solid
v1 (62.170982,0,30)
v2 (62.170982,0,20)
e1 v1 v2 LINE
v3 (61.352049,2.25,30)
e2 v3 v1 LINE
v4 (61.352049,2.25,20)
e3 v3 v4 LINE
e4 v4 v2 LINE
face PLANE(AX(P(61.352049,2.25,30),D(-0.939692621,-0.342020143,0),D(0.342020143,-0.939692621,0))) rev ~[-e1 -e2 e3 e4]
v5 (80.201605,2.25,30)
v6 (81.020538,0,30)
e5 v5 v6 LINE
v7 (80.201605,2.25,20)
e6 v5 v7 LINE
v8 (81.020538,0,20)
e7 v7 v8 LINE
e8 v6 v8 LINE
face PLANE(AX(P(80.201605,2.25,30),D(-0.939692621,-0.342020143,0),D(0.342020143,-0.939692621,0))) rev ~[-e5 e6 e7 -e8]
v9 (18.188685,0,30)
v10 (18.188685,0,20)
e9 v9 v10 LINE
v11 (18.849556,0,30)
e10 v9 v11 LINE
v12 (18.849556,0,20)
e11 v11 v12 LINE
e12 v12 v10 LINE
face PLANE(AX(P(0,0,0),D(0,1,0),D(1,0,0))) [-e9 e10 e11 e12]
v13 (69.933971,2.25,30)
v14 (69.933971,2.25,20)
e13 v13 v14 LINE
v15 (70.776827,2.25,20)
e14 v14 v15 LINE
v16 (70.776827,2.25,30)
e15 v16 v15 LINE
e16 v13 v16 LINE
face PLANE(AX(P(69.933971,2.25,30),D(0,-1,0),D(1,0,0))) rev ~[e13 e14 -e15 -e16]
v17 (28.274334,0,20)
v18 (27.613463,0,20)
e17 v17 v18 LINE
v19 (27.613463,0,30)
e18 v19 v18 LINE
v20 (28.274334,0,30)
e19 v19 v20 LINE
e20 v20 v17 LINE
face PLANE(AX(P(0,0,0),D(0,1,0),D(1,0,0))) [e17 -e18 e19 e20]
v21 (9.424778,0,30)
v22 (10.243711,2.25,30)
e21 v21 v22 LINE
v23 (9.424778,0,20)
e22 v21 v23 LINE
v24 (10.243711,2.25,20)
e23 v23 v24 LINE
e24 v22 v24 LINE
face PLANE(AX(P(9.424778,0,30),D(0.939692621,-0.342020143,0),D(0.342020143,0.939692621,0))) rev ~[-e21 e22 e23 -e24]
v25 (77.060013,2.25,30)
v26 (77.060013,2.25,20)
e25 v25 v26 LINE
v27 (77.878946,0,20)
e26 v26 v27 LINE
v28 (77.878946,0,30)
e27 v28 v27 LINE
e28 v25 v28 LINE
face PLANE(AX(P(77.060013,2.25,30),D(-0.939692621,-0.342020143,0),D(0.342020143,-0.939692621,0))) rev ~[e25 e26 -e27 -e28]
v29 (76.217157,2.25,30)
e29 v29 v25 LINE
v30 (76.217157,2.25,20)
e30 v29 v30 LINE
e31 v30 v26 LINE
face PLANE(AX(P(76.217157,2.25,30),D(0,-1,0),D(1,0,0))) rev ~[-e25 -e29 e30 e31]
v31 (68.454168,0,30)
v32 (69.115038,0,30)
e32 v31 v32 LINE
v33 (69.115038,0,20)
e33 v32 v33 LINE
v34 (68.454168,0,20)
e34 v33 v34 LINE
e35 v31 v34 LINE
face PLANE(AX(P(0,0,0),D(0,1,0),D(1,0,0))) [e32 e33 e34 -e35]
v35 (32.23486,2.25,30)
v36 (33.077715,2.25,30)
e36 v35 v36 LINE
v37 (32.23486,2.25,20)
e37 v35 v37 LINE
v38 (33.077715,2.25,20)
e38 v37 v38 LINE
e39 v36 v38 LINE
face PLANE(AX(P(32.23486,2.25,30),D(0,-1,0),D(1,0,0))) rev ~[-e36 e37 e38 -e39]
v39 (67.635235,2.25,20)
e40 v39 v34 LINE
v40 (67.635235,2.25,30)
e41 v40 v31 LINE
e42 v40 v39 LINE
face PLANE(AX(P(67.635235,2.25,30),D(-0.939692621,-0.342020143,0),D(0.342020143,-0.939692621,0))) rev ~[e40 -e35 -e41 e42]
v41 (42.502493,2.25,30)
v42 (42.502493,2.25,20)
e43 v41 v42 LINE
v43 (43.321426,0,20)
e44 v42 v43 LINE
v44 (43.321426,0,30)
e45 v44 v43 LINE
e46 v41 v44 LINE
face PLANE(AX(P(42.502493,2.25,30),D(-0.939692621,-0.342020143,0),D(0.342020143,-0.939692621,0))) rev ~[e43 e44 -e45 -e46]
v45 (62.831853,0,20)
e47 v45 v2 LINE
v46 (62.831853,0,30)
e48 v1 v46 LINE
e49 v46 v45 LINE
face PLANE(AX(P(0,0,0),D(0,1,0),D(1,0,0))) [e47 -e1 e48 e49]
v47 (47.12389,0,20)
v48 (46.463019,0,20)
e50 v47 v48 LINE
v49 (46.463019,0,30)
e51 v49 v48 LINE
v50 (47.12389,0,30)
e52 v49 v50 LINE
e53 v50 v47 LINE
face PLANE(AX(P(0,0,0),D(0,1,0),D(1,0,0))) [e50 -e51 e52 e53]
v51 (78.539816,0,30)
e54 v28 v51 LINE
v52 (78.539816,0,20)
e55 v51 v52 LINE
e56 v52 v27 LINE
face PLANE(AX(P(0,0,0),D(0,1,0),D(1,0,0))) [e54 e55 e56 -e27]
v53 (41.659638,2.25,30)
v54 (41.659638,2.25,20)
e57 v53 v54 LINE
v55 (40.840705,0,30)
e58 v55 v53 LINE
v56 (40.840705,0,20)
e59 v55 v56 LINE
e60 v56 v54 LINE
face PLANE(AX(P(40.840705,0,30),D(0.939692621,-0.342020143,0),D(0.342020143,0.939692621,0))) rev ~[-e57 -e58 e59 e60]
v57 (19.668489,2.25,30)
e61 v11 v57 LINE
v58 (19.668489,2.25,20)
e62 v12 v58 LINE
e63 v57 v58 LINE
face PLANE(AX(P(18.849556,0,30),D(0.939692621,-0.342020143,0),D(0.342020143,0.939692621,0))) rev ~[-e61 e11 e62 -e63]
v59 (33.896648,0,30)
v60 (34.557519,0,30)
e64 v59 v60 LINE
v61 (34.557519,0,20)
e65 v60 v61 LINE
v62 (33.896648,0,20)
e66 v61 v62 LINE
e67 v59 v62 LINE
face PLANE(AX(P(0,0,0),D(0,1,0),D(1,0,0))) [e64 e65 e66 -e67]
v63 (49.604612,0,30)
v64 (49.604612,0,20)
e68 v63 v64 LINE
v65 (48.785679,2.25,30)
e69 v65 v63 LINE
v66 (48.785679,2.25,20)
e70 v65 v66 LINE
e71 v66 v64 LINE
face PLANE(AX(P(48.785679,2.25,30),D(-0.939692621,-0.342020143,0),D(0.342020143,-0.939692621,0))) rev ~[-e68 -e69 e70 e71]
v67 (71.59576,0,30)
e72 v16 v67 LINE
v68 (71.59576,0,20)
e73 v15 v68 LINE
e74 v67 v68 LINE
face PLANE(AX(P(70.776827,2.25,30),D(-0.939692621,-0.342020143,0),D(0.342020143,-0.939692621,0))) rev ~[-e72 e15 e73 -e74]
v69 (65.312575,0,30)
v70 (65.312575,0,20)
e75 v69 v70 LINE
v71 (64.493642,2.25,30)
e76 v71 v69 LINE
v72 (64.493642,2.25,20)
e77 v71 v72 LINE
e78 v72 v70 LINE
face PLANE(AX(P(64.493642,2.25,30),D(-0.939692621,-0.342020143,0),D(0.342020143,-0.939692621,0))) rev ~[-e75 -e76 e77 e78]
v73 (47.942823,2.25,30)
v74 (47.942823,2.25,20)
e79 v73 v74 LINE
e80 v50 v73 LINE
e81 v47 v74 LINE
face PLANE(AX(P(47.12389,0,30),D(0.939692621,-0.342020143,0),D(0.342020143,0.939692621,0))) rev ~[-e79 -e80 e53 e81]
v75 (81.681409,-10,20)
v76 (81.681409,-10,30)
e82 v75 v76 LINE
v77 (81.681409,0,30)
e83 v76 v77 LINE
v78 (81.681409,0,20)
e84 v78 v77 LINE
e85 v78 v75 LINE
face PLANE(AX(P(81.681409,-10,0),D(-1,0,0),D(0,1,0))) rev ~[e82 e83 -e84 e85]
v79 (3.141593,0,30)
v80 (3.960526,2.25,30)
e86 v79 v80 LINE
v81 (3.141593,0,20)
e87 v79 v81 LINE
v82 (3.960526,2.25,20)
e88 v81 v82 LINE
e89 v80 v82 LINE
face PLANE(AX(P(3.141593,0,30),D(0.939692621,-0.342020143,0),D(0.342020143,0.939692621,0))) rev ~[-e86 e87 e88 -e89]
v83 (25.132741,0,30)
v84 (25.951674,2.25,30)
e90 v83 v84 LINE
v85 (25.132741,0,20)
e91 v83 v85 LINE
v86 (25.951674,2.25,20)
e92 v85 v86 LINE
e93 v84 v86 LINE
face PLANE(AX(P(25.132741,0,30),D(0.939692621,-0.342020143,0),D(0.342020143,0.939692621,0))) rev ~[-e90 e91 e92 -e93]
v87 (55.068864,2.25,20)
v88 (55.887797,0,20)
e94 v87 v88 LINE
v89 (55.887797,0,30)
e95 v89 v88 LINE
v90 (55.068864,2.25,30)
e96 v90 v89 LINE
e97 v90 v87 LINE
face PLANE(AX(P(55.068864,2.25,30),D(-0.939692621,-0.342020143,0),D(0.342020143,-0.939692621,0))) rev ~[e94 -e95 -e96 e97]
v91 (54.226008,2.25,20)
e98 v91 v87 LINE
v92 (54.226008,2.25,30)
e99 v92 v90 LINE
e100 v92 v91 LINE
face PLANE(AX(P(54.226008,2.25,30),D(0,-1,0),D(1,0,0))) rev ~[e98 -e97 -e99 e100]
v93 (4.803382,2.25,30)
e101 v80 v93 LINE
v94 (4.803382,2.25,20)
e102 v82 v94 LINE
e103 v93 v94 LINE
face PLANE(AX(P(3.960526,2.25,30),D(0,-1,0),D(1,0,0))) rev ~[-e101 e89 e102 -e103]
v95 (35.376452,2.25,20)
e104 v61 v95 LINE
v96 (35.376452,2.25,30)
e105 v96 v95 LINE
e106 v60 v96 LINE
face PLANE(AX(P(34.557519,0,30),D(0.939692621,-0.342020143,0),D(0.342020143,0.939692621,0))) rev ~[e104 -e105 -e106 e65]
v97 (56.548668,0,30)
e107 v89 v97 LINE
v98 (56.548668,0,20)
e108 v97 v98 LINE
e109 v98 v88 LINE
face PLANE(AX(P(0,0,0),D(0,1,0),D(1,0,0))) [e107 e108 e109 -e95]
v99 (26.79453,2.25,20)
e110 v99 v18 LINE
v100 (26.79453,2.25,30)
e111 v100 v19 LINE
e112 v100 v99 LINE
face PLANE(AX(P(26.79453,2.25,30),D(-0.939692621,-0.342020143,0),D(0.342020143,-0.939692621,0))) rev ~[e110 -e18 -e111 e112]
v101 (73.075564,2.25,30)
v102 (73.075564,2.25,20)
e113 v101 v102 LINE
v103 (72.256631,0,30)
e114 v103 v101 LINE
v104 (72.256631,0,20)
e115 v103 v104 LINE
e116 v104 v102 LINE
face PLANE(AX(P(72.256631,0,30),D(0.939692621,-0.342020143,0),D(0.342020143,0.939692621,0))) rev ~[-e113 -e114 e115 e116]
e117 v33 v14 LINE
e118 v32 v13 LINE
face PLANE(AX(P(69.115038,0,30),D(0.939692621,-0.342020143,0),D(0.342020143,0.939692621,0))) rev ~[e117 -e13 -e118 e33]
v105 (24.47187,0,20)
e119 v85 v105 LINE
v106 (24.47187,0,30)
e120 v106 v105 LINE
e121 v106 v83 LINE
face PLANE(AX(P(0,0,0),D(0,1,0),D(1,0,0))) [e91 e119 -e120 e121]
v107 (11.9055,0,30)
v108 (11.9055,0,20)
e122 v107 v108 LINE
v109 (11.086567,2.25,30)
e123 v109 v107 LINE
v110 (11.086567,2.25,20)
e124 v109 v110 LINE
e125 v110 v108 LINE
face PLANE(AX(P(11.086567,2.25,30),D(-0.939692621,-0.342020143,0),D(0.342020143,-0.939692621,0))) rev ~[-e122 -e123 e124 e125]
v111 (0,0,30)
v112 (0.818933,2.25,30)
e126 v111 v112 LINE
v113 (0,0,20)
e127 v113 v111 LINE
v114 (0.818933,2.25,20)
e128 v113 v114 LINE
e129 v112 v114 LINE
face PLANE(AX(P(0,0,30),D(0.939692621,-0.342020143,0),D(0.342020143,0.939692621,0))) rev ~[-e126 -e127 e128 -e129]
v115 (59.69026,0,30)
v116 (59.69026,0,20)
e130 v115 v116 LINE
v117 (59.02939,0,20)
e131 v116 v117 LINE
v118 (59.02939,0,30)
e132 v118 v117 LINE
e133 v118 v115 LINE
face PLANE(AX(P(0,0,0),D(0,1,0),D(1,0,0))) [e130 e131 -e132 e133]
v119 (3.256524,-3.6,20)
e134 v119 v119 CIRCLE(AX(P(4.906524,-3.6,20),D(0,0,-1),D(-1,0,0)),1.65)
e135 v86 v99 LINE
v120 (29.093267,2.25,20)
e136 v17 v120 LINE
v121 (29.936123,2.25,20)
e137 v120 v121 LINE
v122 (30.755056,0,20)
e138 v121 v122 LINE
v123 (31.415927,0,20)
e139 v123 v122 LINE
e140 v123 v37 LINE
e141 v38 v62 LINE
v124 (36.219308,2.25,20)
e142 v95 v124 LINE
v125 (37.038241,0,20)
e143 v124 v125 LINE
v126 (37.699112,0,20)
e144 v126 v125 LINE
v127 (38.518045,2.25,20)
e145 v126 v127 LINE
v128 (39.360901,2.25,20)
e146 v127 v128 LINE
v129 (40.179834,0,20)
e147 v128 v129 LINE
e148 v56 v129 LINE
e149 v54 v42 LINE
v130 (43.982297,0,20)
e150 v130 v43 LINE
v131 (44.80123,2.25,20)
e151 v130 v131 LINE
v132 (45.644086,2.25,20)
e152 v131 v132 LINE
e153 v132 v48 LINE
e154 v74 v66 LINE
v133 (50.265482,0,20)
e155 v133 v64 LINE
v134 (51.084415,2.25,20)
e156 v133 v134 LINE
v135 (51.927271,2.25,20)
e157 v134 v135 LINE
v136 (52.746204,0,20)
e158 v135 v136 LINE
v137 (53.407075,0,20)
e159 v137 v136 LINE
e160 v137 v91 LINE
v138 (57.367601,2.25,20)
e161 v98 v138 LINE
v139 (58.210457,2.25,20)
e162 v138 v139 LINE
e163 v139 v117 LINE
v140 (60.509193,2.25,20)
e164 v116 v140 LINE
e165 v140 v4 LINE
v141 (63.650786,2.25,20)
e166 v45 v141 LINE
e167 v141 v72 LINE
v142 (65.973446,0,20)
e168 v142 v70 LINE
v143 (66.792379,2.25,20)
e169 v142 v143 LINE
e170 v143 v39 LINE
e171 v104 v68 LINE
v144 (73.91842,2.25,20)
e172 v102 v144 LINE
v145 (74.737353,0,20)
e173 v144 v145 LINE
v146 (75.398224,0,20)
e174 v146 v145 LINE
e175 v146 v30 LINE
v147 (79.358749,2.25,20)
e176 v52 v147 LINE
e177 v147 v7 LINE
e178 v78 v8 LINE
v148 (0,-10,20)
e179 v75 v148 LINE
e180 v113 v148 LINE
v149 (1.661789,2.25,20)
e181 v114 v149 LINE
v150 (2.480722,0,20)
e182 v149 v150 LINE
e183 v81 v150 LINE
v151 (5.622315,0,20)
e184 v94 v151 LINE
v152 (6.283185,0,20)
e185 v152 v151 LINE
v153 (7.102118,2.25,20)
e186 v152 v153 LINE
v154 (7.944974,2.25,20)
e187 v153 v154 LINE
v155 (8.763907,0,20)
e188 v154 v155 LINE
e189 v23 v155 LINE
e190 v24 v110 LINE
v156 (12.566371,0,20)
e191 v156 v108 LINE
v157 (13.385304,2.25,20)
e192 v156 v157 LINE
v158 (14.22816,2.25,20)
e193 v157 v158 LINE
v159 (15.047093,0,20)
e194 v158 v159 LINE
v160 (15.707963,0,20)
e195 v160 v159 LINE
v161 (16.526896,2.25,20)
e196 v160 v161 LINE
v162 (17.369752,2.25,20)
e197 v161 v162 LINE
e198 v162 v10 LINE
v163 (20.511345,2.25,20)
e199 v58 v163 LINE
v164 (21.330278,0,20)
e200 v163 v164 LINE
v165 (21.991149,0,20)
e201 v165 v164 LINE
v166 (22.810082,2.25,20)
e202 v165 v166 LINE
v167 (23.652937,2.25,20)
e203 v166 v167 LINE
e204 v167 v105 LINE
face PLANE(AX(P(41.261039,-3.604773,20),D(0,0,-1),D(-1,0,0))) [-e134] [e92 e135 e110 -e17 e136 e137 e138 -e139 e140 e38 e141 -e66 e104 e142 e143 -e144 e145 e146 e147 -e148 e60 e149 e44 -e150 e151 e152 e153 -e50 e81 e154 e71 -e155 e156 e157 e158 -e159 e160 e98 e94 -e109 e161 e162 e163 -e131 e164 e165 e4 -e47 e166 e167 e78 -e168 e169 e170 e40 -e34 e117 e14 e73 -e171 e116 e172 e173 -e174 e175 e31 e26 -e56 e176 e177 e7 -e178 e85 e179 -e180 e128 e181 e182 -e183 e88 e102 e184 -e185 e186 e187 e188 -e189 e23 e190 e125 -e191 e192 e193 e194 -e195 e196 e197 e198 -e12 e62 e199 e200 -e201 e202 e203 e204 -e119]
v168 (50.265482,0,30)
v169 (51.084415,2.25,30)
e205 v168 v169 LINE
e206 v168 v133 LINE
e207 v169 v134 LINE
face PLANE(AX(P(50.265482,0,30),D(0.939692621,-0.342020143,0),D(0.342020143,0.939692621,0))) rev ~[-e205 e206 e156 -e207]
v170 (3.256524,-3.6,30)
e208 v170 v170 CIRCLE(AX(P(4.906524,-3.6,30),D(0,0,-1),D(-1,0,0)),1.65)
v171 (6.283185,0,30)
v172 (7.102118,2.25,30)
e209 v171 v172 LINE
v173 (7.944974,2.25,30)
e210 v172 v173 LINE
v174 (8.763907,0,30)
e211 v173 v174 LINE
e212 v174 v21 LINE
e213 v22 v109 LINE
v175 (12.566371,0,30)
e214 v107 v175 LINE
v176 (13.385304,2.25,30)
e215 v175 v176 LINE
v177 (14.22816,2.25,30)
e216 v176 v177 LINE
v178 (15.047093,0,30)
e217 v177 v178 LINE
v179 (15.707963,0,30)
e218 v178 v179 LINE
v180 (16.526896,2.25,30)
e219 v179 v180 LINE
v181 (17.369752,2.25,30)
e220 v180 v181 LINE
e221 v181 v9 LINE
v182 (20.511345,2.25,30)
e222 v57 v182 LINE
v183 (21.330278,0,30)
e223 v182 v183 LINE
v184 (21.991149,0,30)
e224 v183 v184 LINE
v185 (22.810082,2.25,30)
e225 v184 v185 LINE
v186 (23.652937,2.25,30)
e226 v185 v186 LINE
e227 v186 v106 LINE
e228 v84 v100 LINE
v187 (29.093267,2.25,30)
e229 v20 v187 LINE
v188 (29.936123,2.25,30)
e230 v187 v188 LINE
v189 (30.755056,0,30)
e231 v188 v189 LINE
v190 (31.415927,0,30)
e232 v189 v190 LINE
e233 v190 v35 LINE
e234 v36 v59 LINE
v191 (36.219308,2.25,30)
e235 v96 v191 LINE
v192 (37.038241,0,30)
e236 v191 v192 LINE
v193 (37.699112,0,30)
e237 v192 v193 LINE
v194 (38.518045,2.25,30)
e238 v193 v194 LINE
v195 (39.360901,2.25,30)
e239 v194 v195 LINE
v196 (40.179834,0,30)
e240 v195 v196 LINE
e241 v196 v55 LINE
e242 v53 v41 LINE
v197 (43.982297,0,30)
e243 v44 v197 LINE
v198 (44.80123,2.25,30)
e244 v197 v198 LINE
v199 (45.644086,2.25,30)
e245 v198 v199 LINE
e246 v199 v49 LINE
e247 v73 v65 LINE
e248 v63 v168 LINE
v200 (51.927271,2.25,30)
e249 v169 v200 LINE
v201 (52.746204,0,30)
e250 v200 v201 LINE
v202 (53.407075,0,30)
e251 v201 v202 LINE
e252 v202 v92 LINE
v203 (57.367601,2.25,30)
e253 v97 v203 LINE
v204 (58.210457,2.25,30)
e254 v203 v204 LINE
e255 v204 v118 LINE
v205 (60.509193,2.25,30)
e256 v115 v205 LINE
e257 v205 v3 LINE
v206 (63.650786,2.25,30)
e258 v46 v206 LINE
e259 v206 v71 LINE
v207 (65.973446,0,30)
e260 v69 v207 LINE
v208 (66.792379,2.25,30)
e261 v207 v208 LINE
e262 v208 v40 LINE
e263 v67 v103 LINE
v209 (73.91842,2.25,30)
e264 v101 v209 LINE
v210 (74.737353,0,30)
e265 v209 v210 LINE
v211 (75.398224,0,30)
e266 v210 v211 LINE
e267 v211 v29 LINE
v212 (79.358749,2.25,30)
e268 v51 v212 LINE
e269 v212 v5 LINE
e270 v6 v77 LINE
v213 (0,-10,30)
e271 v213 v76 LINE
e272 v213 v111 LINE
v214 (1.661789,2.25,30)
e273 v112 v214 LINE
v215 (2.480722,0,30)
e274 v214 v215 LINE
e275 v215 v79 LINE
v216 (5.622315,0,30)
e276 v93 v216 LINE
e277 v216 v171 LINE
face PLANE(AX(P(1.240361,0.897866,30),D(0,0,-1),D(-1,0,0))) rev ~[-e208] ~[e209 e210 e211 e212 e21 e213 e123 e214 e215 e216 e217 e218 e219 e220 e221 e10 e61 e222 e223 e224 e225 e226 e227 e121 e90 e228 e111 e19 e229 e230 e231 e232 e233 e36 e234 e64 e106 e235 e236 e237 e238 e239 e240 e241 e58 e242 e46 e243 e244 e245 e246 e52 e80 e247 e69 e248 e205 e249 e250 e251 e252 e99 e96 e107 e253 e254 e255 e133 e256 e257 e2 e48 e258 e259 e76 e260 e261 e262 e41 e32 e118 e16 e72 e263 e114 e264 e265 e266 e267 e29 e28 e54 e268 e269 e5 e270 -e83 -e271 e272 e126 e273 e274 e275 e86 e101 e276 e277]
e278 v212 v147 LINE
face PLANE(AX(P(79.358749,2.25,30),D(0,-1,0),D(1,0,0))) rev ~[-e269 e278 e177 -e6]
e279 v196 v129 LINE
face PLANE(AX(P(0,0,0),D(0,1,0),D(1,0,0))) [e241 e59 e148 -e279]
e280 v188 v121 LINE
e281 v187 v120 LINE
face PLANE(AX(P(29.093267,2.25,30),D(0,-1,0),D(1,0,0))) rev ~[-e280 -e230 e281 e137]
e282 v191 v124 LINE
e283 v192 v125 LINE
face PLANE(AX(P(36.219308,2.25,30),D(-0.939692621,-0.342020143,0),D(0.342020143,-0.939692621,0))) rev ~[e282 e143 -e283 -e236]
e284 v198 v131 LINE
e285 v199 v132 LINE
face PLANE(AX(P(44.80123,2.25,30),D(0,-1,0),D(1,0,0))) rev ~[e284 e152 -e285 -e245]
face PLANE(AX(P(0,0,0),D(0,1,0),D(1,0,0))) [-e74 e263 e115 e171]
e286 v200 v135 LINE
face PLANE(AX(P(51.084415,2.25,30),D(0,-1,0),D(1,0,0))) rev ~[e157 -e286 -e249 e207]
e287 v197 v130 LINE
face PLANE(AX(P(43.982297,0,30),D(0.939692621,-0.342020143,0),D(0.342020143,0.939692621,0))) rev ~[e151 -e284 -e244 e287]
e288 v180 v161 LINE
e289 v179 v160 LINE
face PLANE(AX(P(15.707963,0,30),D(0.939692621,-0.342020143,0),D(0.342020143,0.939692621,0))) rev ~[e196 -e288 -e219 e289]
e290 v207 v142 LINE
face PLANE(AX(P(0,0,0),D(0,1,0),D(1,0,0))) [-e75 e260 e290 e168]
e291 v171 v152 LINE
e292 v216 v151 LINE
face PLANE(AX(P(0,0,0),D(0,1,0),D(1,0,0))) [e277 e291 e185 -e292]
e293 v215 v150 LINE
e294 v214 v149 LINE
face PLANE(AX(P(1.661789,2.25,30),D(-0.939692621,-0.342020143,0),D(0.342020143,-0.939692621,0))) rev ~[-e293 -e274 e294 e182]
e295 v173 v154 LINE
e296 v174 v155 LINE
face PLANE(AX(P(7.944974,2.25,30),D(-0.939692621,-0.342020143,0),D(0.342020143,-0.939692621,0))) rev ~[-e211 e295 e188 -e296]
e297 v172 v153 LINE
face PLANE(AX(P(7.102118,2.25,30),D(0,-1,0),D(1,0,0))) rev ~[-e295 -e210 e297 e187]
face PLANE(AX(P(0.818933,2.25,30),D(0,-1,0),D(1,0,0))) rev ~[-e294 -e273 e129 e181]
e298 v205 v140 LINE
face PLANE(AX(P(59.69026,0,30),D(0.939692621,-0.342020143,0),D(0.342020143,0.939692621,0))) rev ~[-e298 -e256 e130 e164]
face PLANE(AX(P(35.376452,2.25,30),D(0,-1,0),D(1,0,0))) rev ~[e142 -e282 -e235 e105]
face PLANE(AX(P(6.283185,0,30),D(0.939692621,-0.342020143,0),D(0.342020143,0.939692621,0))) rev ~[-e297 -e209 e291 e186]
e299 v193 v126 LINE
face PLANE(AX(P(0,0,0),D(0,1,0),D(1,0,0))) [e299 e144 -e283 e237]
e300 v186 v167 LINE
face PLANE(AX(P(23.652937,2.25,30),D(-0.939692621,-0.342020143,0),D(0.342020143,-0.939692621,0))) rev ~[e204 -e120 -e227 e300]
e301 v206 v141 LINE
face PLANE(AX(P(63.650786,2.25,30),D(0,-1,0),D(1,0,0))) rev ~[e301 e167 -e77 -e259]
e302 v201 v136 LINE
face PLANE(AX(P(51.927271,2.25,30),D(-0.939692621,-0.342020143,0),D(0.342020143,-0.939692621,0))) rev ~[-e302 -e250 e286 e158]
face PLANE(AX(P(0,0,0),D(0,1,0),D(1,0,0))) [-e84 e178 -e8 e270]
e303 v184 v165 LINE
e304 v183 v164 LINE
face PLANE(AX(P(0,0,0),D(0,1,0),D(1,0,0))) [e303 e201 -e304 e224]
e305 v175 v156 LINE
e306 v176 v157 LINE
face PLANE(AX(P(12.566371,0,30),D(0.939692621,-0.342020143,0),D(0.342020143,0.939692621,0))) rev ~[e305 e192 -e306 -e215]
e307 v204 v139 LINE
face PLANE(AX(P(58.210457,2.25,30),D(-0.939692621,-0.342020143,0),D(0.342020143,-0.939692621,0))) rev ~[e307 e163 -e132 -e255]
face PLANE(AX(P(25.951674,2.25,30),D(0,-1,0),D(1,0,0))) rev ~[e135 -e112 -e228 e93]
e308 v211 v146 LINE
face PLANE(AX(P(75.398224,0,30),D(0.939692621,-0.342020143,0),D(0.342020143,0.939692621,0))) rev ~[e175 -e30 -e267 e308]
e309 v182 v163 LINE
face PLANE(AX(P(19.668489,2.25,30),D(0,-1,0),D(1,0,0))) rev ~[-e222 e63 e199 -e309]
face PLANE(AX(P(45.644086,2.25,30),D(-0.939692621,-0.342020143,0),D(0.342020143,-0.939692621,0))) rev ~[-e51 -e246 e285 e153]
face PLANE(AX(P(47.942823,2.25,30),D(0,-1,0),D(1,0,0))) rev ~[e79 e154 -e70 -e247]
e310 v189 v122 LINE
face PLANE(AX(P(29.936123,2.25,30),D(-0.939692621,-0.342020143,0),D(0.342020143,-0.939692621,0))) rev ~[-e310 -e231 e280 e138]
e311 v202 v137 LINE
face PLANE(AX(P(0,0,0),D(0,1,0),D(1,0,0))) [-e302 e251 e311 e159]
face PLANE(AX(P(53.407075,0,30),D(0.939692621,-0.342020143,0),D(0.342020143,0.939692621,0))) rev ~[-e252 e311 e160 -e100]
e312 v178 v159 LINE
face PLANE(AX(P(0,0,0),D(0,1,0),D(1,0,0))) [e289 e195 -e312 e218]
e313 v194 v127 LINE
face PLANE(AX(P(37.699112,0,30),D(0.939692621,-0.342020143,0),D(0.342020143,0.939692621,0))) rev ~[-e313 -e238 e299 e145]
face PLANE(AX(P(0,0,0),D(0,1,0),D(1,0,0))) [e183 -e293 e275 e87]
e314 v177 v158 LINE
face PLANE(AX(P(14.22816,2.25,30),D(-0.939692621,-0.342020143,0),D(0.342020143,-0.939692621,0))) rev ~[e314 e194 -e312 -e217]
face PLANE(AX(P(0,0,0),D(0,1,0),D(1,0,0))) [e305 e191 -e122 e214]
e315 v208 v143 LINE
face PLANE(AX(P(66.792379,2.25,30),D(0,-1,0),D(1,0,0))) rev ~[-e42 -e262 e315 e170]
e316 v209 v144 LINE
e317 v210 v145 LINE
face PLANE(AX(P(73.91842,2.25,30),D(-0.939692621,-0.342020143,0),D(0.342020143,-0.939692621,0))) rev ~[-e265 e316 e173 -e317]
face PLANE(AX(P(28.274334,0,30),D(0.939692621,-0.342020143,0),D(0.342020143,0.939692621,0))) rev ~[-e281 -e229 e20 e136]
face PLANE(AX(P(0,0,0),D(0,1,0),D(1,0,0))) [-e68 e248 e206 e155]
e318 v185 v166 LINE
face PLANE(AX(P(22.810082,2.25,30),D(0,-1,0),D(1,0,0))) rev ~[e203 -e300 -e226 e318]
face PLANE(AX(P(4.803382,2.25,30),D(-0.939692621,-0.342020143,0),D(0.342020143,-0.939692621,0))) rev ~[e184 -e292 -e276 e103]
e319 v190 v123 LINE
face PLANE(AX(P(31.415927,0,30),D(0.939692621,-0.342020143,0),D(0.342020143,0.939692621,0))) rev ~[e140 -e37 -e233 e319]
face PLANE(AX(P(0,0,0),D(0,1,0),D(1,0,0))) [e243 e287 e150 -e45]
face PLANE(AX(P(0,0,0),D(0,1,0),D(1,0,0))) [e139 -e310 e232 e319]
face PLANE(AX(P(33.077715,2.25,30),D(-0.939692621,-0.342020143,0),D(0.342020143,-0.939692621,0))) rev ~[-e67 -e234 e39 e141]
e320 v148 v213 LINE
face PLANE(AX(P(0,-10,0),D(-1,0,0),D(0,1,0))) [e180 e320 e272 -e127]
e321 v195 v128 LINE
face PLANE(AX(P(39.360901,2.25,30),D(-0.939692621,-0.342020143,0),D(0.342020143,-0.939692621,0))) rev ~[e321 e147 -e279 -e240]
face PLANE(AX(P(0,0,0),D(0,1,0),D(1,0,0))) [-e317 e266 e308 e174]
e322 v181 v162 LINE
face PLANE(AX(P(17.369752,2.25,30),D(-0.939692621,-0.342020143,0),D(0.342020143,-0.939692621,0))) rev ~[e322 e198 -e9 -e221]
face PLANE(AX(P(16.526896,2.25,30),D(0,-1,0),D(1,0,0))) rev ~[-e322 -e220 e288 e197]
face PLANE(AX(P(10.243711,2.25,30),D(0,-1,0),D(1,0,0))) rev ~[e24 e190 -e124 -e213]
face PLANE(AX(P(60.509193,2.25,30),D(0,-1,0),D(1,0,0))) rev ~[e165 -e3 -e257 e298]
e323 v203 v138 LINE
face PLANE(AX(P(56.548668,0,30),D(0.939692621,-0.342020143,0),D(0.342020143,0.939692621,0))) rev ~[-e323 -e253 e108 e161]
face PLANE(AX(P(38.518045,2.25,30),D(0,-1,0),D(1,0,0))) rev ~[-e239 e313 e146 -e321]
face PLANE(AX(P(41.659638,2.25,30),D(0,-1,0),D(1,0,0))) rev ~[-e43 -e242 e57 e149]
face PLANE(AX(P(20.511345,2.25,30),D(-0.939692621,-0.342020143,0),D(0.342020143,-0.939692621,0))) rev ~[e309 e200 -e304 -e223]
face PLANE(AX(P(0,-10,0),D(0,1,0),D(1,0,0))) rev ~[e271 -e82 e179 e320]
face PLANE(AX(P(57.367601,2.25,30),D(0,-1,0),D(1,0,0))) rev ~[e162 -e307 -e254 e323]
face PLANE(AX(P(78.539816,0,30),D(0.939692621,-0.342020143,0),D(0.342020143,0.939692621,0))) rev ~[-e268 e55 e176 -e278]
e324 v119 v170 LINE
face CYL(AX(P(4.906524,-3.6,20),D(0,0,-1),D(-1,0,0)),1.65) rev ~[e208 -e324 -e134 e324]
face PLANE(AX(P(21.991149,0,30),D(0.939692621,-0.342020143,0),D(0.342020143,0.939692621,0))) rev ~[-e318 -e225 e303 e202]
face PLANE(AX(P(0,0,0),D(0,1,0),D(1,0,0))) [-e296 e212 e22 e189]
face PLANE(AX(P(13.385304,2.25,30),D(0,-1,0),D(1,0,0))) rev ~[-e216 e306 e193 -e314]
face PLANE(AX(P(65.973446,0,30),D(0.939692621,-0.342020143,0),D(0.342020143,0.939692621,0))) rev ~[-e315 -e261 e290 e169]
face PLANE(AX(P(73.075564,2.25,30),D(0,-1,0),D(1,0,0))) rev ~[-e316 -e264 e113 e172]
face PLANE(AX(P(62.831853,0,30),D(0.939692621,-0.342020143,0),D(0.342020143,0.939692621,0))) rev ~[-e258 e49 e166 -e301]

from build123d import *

# Parameters (mm, degrees)
SKETCH_1_W             = 81.681408993
SKETCH_1_H             = 10
EXTRUDE_1_DEPTH        = 30
EXTRUDE_2_DEPTH        = 30
PATTERN_LINEAR_1_COUNT = 26
PATTERN_LINEAR_1_PITCH = 3.141592654
SKETCH_3_W             = 87.309380436
SKETCH_3_H             = 21.857368967
CUT_EXTRUDE_1_DEPTH    = 20
SKETCH_4_R             = 1.65
CUT_EXTRUDE_4_DEPTH    = 83.8966379


with BuildPart() as part:
    # 草图1 → 拉伸1 (new body)
    with BuildSketch(Plane.XY):
        with Locations((40.840704497, -5)):
            Rectangle(SKETCH_1_W, SKETCH_1_H)
    extrude(amount=EXTRUDE_1_DEPTH)

    # 草图2 → 拉伸2 (add)
    with BuildSketch(Plane.XY.offset(30)):
        Polygon((0, 0), (0.818933027, 2.25), (1.661788885, 2.25), (2.480721912, 0), align=None)
    extrude_2 = extrude(amount=-EXTRUDE_2_DEPTH)

    # 阵列(线性)1: 拉伸2 ×26
    with Locations(*[(i * PATTERN_LINEAR_1_PITCH, 0, 0) for i in range(1, PATTERN_LINEAR_1_COUNT)]):
        add(extrude_2)

    # 草图3 → 切除-拉伸1 (cut)
    with BuildSketch(Plane(origin=(0, 0, 0), x_dir=(-1, 0, 0), z_dir=(0, 0, -1))):
        with Locations((-41.261038515, -3.604772773)):
            Rectangle(SKETCH_3_W, SKETCH_3_H)
    extrude(amount=-CUT_EXTRUDE_1_DEPTH, mode=Mode.SUBTRACT)

    # 草图4 → 切除-拉伸4 (cut, through all)
    with BuildSketch(Plane(origin=(0, 0, 20), x_dir=(-1, 0, 0), z_dir=(0, 0, -1))):
        with Locations((-4.906524017, -3.6)):
            Circle(SKETCH_4_R)
    extrude(amount=-CUT_EXTRUDE_4_DEPTH, mode=Mode.SUBTRACT)


solid = part.part
